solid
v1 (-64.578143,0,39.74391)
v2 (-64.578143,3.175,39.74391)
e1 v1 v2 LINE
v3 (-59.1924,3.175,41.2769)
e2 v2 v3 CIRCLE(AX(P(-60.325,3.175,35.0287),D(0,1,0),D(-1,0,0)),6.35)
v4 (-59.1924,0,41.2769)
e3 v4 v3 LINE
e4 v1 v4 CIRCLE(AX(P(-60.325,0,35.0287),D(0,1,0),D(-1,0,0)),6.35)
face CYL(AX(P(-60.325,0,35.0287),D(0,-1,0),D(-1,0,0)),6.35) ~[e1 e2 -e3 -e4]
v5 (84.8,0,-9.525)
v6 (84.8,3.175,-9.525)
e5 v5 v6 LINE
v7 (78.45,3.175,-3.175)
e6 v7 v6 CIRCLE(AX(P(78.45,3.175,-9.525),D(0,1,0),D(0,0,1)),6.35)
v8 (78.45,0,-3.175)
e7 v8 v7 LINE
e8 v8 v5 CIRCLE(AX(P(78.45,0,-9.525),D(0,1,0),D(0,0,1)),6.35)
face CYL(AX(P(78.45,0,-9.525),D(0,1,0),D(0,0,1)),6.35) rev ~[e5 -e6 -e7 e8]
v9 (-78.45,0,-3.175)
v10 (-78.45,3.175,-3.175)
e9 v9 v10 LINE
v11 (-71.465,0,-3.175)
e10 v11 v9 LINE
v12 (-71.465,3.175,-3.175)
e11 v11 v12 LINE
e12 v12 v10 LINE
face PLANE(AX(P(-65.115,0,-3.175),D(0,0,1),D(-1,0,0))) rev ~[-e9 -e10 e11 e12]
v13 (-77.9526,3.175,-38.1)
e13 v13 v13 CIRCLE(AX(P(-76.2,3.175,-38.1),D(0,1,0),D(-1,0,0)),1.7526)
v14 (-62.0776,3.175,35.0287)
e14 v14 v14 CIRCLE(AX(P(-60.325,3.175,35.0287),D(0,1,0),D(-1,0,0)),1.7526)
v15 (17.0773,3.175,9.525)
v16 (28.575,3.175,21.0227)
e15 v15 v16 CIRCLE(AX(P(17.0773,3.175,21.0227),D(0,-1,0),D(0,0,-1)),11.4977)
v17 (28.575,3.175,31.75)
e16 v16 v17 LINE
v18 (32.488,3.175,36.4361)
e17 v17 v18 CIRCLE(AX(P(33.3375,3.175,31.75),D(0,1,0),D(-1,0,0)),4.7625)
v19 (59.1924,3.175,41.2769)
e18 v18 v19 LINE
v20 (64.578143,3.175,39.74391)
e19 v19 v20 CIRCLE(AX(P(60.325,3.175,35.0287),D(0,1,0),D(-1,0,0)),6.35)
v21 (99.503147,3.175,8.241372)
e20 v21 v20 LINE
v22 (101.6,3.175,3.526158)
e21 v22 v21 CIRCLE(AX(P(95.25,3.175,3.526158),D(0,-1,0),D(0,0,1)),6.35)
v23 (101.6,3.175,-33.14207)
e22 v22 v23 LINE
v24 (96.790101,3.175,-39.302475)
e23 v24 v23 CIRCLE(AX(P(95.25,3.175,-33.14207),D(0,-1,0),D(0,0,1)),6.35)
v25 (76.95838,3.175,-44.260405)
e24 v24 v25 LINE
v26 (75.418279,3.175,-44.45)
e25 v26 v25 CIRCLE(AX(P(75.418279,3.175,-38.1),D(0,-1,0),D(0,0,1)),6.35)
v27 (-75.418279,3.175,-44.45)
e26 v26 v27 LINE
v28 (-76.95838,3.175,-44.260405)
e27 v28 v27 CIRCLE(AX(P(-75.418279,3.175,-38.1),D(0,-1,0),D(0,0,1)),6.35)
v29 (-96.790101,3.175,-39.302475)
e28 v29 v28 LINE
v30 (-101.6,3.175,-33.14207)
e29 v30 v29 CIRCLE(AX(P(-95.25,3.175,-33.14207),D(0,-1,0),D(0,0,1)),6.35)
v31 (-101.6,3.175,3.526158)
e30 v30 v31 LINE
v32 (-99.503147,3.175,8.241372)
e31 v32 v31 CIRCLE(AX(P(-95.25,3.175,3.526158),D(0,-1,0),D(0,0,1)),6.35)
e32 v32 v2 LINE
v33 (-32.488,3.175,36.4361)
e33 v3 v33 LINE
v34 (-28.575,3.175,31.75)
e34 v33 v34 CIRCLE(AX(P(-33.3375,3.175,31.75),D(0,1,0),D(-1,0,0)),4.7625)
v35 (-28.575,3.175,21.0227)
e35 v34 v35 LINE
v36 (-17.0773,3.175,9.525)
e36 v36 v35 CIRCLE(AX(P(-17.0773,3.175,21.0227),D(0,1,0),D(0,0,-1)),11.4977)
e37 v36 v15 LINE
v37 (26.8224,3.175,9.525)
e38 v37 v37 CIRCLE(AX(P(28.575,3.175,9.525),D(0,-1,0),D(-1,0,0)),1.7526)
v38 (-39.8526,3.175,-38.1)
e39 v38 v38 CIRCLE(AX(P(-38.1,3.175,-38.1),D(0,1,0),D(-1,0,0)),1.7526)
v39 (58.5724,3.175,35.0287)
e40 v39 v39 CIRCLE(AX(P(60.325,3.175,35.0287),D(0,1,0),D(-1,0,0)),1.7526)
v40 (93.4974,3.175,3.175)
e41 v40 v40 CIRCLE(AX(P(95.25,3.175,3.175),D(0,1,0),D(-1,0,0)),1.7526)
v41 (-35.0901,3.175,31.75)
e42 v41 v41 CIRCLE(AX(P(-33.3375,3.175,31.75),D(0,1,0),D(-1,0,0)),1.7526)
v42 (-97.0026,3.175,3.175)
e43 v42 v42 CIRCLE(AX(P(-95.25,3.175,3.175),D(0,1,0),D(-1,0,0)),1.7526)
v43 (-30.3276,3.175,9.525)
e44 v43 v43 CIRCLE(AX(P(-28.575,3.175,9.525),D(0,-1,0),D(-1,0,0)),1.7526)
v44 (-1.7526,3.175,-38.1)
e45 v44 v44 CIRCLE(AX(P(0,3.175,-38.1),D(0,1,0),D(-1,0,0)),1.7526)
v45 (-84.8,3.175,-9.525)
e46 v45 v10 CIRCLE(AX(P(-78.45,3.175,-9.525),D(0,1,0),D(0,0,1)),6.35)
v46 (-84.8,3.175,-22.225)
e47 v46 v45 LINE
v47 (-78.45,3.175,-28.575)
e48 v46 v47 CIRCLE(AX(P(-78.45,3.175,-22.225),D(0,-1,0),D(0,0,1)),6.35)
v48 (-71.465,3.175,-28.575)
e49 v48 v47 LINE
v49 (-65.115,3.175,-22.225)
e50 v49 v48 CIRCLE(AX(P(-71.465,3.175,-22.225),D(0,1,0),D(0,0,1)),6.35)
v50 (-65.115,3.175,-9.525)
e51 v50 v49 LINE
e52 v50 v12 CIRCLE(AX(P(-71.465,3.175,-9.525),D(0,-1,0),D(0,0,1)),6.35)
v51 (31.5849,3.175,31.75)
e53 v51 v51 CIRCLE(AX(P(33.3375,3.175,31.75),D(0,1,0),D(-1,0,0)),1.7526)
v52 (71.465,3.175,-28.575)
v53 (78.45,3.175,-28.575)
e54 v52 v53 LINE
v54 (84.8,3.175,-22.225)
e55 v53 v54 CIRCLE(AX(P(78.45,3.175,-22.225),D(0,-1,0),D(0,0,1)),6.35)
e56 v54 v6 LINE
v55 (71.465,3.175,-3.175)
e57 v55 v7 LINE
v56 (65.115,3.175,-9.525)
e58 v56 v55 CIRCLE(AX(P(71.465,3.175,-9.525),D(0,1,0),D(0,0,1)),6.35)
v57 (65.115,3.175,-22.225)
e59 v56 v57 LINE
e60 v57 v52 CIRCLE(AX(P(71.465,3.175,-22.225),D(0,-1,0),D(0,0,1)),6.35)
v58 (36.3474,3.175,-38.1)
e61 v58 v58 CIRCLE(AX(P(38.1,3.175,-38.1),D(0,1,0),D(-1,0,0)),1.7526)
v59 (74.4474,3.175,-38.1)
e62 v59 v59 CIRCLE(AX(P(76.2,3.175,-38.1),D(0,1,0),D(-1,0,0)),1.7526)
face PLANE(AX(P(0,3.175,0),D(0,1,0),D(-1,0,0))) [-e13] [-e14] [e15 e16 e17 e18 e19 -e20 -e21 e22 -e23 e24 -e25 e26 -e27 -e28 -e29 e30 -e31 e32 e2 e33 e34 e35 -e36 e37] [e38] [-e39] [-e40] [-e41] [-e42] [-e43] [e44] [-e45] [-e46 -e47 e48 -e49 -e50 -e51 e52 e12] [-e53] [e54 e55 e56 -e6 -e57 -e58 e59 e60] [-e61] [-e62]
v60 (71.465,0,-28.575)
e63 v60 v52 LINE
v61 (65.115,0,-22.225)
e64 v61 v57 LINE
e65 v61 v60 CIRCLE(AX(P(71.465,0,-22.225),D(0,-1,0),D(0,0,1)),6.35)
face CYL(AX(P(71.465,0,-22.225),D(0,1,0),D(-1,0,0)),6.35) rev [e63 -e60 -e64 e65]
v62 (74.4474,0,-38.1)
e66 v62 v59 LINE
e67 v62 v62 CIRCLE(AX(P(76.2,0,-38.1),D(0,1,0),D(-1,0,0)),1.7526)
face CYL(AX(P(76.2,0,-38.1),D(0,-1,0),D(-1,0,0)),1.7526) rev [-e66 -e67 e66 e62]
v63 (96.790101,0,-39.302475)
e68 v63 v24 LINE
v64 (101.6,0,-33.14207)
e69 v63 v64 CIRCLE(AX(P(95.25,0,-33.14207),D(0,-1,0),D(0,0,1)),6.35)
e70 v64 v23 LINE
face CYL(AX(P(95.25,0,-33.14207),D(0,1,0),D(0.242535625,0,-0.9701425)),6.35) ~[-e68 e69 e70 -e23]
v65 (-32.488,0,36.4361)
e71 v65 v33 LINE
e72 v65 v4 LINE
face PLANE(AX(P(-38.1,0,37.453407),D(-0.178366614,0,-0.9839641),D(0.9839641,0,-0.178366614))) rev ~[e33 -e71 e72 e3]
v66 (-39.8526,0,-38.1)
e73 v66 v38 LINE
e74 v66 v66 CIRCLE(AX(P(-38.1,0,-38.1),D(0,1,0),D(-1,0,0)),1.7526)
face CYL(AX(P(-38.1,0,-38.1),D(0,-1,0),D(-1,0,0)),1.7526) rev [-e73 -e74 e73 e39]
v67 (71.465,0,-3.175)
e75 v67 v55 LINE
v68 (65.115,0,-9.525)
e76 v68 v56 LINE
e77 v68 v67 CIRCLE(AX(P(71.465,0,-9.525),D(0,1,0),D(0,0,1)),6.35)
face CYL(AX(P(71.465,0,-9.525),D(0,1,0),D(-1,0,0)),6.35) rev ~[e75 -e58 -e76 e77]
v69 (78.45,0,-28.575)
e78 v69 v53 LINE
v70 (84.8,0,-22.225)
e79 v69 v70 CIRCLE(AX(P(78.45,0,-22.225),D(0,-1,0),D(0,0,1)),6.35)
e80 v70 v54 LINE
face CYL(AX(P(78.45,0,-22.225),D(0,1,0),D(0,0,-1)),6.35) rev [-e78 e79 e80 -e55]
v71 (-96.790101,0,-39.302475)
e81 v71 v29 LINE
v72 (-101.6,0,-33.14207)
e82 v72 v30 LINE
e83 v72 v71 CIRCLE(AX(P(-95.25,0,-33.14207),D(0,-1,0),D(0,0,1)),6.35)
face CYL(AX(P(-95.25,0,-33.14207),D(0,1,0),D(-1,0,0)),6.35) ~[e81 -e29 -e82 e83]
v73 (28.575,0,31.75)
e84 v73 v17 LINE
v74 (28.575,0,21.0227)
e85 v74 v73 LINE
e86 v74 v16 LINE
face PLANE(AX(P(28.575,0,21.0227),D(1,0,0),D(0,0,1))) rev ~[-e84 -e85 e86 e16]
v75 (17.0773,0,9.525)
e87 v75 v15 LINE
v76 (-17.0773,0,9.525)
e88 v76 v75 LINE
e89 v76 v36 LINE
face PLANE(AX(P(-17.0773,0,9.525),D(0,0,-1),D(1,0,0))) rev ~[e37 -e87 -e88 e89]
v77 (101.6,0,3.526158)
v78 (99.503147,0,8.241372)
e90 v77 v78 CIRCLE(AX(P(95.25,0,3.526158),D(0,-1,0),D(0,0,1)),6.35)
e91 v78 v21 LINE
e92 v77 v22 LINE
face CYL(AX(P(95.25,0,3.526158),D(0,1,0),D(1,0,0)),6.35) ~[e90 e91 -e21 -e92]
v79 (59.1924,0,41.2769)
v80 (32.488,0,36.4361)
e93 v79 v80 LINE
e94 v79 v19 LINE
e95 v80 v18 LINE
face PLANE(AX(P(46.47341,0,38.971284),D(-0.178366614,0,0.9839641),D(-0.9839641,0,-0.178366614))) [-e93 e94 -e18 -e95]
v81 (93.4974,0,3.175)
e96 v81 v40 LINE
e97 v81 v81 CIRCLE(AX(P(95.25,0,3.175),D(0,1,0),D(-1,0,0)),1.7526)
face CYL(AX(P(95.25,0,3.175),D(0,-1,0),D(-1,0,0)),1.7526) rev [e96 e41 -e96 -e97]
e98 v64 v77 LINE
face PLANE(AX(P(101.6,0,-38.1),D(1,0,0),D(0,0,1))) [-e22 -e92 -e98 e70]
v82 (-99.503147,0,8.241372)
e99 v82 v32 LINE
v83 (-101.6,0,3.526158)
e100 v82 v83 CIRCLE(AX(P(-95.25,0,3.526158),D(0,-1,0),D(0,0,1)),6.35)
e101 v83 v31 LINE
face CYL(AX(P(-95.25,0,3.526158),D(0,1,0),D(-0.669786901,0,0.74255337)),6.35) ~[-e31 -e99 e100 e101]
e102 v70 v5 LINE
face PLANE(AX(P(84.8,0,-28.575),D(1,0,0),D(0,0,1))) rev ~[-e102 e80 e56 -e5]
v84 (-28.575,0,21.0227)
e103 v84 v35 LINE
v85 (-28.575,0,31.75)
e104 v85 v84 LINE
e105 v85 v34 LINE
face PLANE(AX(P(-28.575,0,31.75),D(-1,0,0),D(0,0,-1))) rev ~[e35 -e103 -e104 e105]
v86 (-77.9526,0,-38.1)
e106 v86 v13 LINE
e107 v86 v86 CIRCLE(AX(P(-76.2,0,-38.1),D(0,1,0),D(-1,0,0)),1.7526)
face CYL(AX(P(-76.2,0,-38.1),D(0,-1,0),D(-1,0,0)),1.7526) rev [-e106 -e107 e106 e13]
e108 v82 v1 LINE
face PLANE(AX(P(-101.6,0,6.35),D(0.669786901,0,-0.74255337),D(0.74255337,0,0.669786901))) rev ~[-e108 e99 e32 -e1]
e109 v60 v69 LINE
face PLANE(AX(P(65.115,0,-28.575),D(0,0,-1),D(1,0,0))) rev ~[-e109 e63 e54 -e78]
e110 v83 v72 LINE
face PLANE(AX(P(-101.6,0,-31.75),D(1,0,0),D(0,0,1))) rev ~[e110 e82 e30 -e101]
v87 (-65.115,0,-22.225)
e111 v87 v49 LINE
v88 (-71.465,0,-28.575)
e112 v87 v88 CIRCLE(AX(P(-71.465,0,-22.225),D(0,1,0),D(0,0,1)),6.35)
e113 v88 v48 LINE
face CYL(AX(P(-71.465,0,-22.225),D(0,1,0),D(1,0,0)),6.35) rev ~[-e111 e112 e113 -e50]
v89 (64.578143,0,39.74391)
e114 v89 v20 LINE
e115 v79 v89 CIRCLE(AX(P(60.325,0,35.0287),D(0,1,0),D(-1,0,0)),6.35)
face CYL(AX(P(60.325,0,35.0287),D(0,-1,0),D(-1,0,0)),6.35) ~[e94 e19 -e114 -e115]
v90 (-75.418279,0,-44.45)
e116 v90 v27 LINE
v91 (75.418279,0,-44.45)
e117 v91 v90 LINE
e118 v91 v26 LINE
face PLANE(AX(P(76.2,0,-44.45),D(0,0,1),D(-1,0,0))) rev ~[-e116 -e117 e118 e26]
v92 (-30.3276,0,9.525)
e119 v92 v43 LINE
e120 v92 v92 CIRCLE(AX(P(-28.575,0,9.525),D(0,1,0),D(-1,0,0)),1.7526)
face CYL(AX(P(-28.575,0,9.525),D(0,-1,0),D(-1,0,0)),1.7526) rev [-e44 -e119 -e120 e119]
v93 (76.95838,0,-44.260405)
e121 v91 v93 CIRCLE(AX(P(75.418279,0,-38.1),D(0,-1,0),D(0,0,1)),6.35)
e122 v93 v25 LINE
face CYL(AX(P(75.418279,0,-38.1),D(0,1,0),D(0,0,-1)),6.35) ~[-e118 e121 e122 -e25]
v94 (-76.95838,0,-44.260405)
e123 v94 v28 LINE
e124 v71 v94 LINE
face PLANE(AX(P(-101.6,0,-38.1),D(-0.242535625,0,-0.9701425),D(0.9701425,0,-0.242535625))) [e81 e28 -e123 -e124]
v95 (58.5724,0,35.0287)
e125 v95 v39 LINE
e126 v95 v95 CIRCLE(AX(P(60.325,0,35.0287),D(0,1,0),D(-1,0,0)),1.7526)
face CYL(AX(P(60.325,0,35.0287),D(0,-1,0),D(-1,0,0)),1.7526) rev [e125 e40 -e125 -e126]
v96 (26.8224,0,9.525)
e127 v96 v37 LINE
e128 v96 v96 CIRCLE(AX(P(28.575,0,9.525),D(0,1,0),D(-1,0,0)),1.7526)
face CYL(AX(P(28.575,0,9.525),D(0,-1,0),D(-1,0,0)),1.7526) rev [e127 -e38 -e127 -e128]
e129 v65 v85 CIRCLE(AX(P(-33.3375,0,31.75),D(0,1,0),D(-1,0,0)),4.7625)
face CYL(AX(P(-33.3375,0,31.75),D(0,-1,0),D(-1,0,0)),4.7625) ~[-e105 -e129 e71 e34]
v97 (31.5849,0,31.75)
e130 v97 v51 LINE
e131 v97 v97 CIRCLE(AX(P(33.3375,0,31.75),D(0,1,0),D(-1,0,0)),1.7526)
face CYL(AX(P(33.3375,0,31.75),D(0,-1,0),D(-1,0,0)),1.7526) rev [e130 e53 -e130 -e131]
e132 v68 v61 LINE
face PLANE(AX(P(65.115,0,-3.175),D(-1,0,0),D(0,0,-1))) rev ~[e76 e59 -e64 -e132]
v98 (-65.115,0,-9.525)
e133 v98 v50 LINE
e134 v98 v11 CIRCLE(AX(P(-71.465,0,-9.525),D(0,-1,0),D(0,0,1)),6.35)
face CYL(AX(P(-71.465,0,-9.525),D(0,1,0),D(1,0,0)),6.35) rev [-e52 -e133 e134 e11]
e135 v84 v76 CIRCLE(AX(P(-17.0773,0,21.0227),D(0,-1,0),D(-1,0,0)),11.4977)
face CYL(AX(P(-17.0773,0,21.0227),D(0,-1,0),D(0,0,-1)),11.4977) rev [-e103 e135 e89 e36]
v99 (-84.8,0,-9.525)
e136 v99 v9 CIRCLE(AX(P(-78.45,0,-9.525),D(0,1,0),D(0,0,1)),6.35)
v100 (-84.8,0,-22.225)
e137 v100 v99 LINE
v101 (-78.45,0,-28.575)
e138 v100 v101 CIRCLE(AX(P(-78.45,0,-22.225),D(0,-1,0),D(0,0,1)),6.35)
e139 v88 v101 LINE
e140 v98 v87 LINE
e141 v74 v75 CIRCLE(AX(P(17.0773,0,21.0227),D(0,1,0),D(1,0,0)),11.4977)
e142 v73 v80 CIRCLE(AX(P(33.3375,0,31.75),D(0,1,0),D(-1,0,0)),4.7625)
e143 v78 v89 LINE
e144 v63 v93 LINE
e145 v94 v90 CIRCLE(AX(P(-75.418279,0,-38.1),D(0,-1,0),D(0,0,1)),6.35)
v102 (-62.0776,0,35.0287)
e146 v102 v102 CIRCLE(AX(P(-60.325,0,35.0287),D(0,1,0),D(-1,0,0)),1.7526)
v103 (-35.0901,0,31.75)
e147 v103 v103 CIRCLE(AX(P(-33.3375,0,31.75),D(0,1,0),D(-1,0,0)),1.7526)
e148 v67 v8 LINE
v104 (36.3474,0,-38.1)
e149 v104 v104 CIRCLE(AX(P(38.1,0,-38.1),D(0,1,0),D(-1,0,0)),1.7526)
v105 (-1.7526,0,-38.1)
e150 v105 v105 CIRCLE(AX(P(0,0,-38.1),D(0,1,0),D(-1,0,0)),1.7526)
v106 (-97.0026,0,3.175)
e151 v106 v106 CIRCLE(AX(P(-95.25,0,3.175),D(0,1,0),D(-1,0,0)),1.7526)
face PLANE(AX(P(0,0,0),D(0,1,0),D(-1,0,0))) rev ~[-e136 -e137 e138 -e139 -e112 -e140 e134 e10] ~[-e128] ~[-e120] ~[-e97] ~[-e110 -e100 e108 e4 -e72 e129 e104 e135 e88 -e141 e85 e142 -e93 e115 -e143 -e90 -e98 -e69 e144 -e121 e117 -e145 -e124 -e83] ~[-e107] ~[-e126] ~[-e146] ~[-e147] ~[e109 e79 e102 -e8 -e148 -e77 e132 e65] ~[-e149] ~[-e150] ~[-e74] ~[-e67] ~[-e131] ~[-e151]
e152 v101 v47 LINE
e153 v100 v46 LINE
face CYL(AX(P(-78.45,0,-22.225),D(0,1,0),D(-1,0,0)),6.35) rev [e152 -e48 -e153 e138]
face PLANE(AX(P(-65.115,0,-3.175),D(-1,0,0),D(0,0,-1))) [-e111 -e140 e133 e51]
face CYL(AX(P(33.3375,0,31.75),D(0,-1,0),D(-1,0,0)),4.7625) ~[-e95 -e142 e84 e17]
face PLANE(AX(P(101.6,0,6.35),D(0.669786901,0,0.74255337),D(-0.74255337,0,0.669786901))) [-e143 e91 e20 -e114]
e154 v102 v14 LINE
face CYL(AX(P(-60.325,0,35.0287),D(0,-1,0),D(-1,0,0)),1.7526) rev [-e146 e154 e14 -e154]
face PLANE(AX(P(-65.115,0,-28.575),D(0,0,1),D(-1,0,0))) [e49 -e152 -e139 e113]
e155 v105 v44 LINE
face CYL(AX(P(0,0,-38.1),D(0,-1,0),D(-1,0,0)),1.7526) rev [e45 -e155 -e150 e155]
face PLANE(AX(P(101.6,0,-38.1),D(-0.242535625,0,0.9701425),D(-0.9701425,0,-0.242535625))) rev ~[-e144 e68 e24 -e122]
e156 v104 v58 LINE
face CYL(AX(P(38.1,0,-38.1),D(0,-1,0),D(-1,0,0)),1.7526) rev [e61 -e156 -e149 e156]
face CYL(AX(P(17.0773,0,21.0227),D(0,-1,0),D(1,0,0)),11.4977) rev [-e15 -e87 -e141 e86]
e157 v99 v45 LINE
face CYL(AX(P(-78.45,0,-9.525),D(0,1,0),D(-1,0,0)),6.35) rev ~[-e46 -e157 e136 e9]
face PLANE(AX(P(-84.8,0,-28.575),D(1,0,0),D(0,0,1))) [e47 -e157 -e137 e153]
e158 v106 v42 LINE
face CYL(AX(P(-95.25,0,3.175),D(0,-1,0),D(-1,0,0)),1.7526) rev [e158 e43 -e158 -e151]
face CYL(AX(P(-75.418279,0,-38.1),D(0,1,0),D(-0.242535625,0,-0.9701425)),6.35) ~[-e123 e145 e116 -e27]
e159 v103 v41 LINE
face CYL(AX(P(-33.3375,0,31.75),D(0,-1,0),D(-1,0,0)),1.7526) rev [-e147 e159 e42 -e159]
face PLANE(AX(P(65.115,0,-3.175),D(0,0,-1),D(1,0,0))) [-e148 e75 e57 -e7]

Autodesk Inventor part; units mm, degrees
ref_plane "YZ Plane" through (0, 0, 0) normal (1, 0, 0) x (0, 1, 0)
ref_plane "XZ Plane" through (0, 0, 0) normal (0, 1, 0) x (-1, 0, 0)
ref_plane "XY Plane" through (0, 0, 0) normal (0, 0, 1) x (1, 0, 0)
sketch "Sketch1" plane through (0, 0, 0) normal (0, 1, 0) x (-1, 0, 0)
  line L0 (101.6, 38.1) -> (-101.6, 38.1) construction
  line L1 (-101.6, 38.1) -> (-101.6, -38.1) construction
  line L2 (-101.6, -38.1) -> (101.6, -38.1) construction
  line L3 (101.6, -38.1) -> (101.6, 38.1) construction
  line L4 (101.6, 38.1) -> (-101.6, -38.1) construction
  line L5 (-101.6, 38.1) -> (101.6, -38.1) construction
  line L6 (-28.575, 66.675) -> (28.575, 66.675) construction
  line L7 (28.575, 66.675) -> (28.575, 9.525)
  line L8 (28.575, 9.525) -> (-28.575, 9.525)
  line L9 (-28.575, 9.525) -> (-28.575, 66.675)
  line L10 (-28.575, 66.675) -> (28.575, 9.525) construction
  line L11 (28.575, 66.675) -> (-28.575, 9.525) construction
  circle A0 centre (-38.1, 50.8) radius 3.175
  line L12 (0, 38.1) -> (0, -38.1) construction
  circle A1 centre (-38.1, 50.8) radius 9.525
  line L13 (-38.1, 60.325) -> (-28.575, 60.325)
  circle A2 centre (38.1, 50.8) radius 3.175
  circle A3 centre (38.1, 50.8) radius 9.525
  line L14 (38.1, 60.325) -> (28.575, 60.325)
  circle A4 centre (-76.2, -38.1) radius 1.7526
  circle A5 centre (-95.25, 3.175) radius 1.7526
  circle A6 centre (76.2, -38.1) radius 1.7526
  circle A7 centre (95.25, 3.175) radius 1.7526
  line L15 (-101.6, -38.1) -> (-101.6, 6.35)
  line L16 (-101.6, 6.35) -> (-44.4797, 57.8728)
  line L17 (101.6, -38.1) -> (101.6, 6.35)
  line L18 (101.6, 6.35) -> (44.4797, 57.8728)
  line L19 (-42.6417, 42.4275) -> (-87.975, 1.5367)
  line L20 (-87.975, 1.5367) -> (-87.975, -38.1)
  line L21 (87.975, -38.1) -> (87.975, 1.5367)
  line L22 (87.975, 1.5367) -> (42.6417, 42.4275)
  line L23 (0, -38.1) -> (-95.25, -38.1) construction
  line L24 (0, -38.1) -> (95.25, -38.1) construction
  circle A8 centre (-60.325, 35.0287) radius 1.7526
  circle A9 centre (-33.3375, 31.75) radius 1.7526
  line L25 (-38.1, 0) -> (-38.1, 41.275)
  line L26 (-38.1, 0) -> (0, 0) construction
  circle A10 centre (60.325, 35.0287) radius 1.7526
  circle A11 centre (33.3375, 31.75) radius 1.7526
  line L27 (38.1, 0) -> (38.1, 41.275)
  line L28 (38.1, 0) -> (0, 0) construction
  line L29 (-87.975, 0) -> (-65.115, 0)
  line L30 (-65.115, 0) -> (-65.115, -31.75)
  line L31 (-65.115, -31.75) -> (-87.975, -31.75)
  line L32 (-101.6, -38.1) -> (101.6, -38.1) construction
  line L33 (101.6, -38.1) -> (101.6, 19.05)
  line L34 (101.6, 19.05) -> (-101.6, 19.05) construction
  line L35 (-101.6, 19.05) -> (-101.6, -38.1)
  line L36 (-101.6, 19.05) -> (-87.5203, 19.05) construction
  line L37 (87.5203, 19.05) -> (101.6, 19.05) construction
  circle A12 centre (-38.1, 0) radius 3.175 construction
  circle A13 centre (-38.1, 0) radius 6.35 construction
  circle A14 centre (38.1, 0) radius 3.175 construction
  circle A15 centre (38.1, 0) radius 6.35 construction
  circle A16 centre (28.575, 9.525) radius 1.7526
  circle A17 centre (28.575, 9.525) radius 4.7625
  arc A18 (17.0773, 9.525) -> (28.575, 21.0227) centre (17.0773, 21.0227) ccw
  circle A19 centre (-28.575, 9.525) radius 1.7526
  circle A20 centre (-28.575, 9.525) radius 4.7625
  arc A21 (-28.575, 21.0227) -> (-17.0773, 9.525) centre (-17.0773, 21.0227) ccw
  arc A22 (31.4325, 5.715) -> (38.1, 19.05) centre (21.4312, 19.05) ccw
  arc A23 (-38.1, 19.05) -> (-31.4325, 5.715) centre (-21.4312, 19.05) ccw
  line L38 (-61.94, -38.1) -> (-61.94, 25.0204)
  line L39 (87.975, 0) -> (65.115, 0)
  line L40 (65.115, 0) -> (65.115, -31.75)
  line L41 (65.115, -31.75) -> (87.975, -31.75)
  line L42 (61.94, -38.1) -> (61.94, 25.0204)
  line L43 (-28.575, 4.7625) -> (28.575, 4.7625)
  line L44 (101.6, -31.75) -> (-101.6, -31.75)
  line L45 (-101.6, -31.75) -> (-101.6, -44.45) construction
  line L46 (-101.6, -44.45) -> (101.6, -44.45)
  line L47 (101.6, -44.45) -> (101.6, -31.75) construction
  circle A24 centre (0, -38.1) radius 1.7526
  circle A25 centre (38.1, -38.1) radius 1.7526
  circle A26 centre (-38.1, -38.1) radius 1.7526
  line L48 (101.6, -38.1) -> (76.2, -44.45)
  line L49 (-101.6, -38.1) -> (-76.2, -44.45)
  line L50 (76.2, -38.1) -> (76.2, -44.45) construction
  line L51 (-76.2, -38.1) -> (-76.2, -44.45) construction
  line L52 (59.1924, 41.2769) -> (32.488, 36.4361)
  circle A27 centre (60.325, 35.0287) radius 6.35
  circle A28 centre (33.3375, 31.75) radius 4.7625
  line L53 (-59.1924, 41.2769) -> (-32.488, 36.4361)
  circle A29 centre (-60.325, 35.0287) radius 6.35
  circle A30 centre (-33.3375, 31.75) radius 4.7625
  line L54 (-87.975, 0) -> (-65.115, 0)
  line L55 (-65.115, 0) -> (-65.115, -3.175)
  line L56 (-65.115, -3.175) -> (-87.975, -3.175)
  line L57 (-87.975, -3.175) -> (-87.975, 0)
  line L58 (-65.115, -15.875) -> (-87.975, -15.875) construction
  line L59 (-65.115, -28.575) -> (-87.975, -28.575)
  line L60 (-84.8, -38.1) -> (-84.8, 0.1248)
  line L61 (65.115, -3.175) -> (87.975, -3.175)
  line L62 (65.115, -15.875) -> (87.975, -15.875) construction
  line L63 (65.115, -28.575) -> (87.975, -28.575)
  line L64 (84.8, -38.1) -> (84.8, 0.1248)
  point P0 (28.575, 38.1)
  point P1 (-28.575, 38.1)
  point P2 (28.575, 60.325)
  point P3 (44.4797, 57.8728)
  point P4 (101.6, -15.875)
  point P5 (38.1, 41.275)
  point P6 (-87.975, -31.75)
  point P7 (-101.6, 6.35)
  point P8 (101.6, 6.35)
  point P9 (31.75, 0)
  point P10 (38.1, 6.35)
  point P11 (-38.1, 6.35)
  point P12 (-31.75, 0)
  point P13 (87.975, 0)
  point P14 (61.94, 25.0204)
  point P15 (-17.0773, 9.525)
  point P16 (-28.575, 21.0227)
  point P17 (-38.1, 19.05)
  point P18 (-31.4325, 5.715)
  point P19 (-21.8502, 0)
  point P20 (21.8502, 0)
  point P21 (-25.2074, 12.8926)
  point P22 (-28.575, 14.2875)
  point P23 (-23.8125, 9.525)
  point P24 (-28.575, 50.8)
  point P25 (25.2074, 12.8926)
  point P26 (28.575, 14.2875)
  point P27 (23.8125, 9.525)
  point P28 (28.575, 50.8)
  point P29 (26.8224, 9.525)
  point P30 (28.575, 11.2776)
  point P31 (61.94, -31.75)
  point P32 (-61.94, -31.75)
  point P33 (-28.575, 31.75)
  point P34 (-64.5781, 39.7439)
  point P35 (64.5781, 39.7439)
  point P36 (28.575, 31.75)
  point P37 (-84.8, -3.175)
  point P38 (-84.8, -28.575)
  point P39 (84.8, -3.175)
  point P40 (84.8, -28.575)
  point P41 (-101.6, -31.75)
  point P42 (-56.0719, 30.3135)
  point P43 (56.0719, 30.3135)
  point P44 (46.4735, 38.9713)
  point P45 (-46.4735, 38.9713)
  point P46 (-28.575, 11.2776)
  point P47 (-26.8224, 9.525)
  dimension "d0" = 203.2
  dimension "d1" = 76.2
  dimension "d4" = 57.15
  dimension "d6" = 6.35
  dimension "d7" = 38.1
  dimension "d8" = 19.05
  dimension "d10" = 3.5052
  dimension "d11" = 3.5052
  dimension "d12" = 0
  dimension "d14" = 25.4
  dimension "d15" = 6.35
  dimension "d20" = 50.8
  dimension "d21" = 41.275
  dimension "d22" = 44.45
  dimension "d24" = 12.7
  dimension "d25" = 13.625
  dimension "d26" = 12.7
  dimension "d27" = 13.625
  dimension "d31" = 3.5052
  dimension "d32" = 3.5052
  dimension "d33" = 6.35
  dimension "d34" = 31.75
  dimension "d35" = 4.7625
  dimension "d36" = 22.225
  dimension "d37" = 9.525
  dimension "d39" = 31.75
  dimension "d40" = 6.35
  dimension "d42" = 57.15
  dimension "d43" = 6.35
  dimension "d44" = 9.525
  dimension "d45" = 9.525
  dimension "d46" = 12.7
  dimension "d104" = 3.5052
  dimension "d105" = 9.525
  dimension "d106" = 3.175
  dimension "d107" = 22.86
  dimension "d123" = 88.9
  dimension "d124" = 12.7
  dimension "d125" = 3.5052
  dimension "d126" = 3.5052
  dimension "d127" = 38.1
  dimension "d128" = 28.575
  dimension "d129" = 3.175
  dimension "d130" = 3.175
extrude "Extrusion1" add sketch "Sketch1" along normal blind 3.175 contours A28 L27 A22 A17 L7 | A28 | L7 A17 A18 | L52 L27 A28 | L27 L52 L22 L42 L44 L38 L19 L53 L25 A23 A20 L43 A17 A22 | L18 L17 L44 L21 L22 A27 | A27 | A17 L8 A16 L7 | L7 A16 L8 A17 | A17 L8 A18 | L52 A27 L22 | A17 L43 A20 L8 | L17 L48 L46 L49 L15 L44 L31 L41 | L8 A20 A21 | L22 L21 L39 L40 L44 L42 | L41 L64 L63 L21 | A20 L9 A19 L8 | L8 A19 L9 A20 | A20 L9 A21 | L63 L64 L61 L21 | L41 L40 L63 L64 | A23 L25 A30 L9 A20 | L21 L61 L64 L39 | L44 L30 L29 L20 L19 L38 | A30 | L64 L61 L40 L39 | L19 L20 L44 L15 L16 A29 | L31 L60 L59 L30 | L25 L53 A30 | A29 L53 L19 | A29 | L31 L20 L59 L60 | L29 L60 L56 L20 | L56 L60 L29 L30 | L59 L20 L56 L60
fillet "Fillet1" radius 6.35 14 edges at (101.6, 1.5875, -38.1) (101.6, 1.5875, 6.35) (-101.6, 1.5875, 6.35) (76.2, 1.5875, -44.45) (-76.2, 1.5875, -44.45) (-101.6, 1.5875, -38.1) (-65.115, 1.5875, -3.175) (-65.115, 1.5875, -28.575) (-84.8, 1.5875, -3.175) (-84.8, 1.5875, -28.575) (84.8, 1.5875, -3.175) (65.115, 1.5875, -3.175) (84.8, 1.5875, -28.575) (65.115, 1.5875, -28.575)
equation "\"d35\" = 0.5 * d37"
properties part number "Chassis" material "UHMW, Black"
